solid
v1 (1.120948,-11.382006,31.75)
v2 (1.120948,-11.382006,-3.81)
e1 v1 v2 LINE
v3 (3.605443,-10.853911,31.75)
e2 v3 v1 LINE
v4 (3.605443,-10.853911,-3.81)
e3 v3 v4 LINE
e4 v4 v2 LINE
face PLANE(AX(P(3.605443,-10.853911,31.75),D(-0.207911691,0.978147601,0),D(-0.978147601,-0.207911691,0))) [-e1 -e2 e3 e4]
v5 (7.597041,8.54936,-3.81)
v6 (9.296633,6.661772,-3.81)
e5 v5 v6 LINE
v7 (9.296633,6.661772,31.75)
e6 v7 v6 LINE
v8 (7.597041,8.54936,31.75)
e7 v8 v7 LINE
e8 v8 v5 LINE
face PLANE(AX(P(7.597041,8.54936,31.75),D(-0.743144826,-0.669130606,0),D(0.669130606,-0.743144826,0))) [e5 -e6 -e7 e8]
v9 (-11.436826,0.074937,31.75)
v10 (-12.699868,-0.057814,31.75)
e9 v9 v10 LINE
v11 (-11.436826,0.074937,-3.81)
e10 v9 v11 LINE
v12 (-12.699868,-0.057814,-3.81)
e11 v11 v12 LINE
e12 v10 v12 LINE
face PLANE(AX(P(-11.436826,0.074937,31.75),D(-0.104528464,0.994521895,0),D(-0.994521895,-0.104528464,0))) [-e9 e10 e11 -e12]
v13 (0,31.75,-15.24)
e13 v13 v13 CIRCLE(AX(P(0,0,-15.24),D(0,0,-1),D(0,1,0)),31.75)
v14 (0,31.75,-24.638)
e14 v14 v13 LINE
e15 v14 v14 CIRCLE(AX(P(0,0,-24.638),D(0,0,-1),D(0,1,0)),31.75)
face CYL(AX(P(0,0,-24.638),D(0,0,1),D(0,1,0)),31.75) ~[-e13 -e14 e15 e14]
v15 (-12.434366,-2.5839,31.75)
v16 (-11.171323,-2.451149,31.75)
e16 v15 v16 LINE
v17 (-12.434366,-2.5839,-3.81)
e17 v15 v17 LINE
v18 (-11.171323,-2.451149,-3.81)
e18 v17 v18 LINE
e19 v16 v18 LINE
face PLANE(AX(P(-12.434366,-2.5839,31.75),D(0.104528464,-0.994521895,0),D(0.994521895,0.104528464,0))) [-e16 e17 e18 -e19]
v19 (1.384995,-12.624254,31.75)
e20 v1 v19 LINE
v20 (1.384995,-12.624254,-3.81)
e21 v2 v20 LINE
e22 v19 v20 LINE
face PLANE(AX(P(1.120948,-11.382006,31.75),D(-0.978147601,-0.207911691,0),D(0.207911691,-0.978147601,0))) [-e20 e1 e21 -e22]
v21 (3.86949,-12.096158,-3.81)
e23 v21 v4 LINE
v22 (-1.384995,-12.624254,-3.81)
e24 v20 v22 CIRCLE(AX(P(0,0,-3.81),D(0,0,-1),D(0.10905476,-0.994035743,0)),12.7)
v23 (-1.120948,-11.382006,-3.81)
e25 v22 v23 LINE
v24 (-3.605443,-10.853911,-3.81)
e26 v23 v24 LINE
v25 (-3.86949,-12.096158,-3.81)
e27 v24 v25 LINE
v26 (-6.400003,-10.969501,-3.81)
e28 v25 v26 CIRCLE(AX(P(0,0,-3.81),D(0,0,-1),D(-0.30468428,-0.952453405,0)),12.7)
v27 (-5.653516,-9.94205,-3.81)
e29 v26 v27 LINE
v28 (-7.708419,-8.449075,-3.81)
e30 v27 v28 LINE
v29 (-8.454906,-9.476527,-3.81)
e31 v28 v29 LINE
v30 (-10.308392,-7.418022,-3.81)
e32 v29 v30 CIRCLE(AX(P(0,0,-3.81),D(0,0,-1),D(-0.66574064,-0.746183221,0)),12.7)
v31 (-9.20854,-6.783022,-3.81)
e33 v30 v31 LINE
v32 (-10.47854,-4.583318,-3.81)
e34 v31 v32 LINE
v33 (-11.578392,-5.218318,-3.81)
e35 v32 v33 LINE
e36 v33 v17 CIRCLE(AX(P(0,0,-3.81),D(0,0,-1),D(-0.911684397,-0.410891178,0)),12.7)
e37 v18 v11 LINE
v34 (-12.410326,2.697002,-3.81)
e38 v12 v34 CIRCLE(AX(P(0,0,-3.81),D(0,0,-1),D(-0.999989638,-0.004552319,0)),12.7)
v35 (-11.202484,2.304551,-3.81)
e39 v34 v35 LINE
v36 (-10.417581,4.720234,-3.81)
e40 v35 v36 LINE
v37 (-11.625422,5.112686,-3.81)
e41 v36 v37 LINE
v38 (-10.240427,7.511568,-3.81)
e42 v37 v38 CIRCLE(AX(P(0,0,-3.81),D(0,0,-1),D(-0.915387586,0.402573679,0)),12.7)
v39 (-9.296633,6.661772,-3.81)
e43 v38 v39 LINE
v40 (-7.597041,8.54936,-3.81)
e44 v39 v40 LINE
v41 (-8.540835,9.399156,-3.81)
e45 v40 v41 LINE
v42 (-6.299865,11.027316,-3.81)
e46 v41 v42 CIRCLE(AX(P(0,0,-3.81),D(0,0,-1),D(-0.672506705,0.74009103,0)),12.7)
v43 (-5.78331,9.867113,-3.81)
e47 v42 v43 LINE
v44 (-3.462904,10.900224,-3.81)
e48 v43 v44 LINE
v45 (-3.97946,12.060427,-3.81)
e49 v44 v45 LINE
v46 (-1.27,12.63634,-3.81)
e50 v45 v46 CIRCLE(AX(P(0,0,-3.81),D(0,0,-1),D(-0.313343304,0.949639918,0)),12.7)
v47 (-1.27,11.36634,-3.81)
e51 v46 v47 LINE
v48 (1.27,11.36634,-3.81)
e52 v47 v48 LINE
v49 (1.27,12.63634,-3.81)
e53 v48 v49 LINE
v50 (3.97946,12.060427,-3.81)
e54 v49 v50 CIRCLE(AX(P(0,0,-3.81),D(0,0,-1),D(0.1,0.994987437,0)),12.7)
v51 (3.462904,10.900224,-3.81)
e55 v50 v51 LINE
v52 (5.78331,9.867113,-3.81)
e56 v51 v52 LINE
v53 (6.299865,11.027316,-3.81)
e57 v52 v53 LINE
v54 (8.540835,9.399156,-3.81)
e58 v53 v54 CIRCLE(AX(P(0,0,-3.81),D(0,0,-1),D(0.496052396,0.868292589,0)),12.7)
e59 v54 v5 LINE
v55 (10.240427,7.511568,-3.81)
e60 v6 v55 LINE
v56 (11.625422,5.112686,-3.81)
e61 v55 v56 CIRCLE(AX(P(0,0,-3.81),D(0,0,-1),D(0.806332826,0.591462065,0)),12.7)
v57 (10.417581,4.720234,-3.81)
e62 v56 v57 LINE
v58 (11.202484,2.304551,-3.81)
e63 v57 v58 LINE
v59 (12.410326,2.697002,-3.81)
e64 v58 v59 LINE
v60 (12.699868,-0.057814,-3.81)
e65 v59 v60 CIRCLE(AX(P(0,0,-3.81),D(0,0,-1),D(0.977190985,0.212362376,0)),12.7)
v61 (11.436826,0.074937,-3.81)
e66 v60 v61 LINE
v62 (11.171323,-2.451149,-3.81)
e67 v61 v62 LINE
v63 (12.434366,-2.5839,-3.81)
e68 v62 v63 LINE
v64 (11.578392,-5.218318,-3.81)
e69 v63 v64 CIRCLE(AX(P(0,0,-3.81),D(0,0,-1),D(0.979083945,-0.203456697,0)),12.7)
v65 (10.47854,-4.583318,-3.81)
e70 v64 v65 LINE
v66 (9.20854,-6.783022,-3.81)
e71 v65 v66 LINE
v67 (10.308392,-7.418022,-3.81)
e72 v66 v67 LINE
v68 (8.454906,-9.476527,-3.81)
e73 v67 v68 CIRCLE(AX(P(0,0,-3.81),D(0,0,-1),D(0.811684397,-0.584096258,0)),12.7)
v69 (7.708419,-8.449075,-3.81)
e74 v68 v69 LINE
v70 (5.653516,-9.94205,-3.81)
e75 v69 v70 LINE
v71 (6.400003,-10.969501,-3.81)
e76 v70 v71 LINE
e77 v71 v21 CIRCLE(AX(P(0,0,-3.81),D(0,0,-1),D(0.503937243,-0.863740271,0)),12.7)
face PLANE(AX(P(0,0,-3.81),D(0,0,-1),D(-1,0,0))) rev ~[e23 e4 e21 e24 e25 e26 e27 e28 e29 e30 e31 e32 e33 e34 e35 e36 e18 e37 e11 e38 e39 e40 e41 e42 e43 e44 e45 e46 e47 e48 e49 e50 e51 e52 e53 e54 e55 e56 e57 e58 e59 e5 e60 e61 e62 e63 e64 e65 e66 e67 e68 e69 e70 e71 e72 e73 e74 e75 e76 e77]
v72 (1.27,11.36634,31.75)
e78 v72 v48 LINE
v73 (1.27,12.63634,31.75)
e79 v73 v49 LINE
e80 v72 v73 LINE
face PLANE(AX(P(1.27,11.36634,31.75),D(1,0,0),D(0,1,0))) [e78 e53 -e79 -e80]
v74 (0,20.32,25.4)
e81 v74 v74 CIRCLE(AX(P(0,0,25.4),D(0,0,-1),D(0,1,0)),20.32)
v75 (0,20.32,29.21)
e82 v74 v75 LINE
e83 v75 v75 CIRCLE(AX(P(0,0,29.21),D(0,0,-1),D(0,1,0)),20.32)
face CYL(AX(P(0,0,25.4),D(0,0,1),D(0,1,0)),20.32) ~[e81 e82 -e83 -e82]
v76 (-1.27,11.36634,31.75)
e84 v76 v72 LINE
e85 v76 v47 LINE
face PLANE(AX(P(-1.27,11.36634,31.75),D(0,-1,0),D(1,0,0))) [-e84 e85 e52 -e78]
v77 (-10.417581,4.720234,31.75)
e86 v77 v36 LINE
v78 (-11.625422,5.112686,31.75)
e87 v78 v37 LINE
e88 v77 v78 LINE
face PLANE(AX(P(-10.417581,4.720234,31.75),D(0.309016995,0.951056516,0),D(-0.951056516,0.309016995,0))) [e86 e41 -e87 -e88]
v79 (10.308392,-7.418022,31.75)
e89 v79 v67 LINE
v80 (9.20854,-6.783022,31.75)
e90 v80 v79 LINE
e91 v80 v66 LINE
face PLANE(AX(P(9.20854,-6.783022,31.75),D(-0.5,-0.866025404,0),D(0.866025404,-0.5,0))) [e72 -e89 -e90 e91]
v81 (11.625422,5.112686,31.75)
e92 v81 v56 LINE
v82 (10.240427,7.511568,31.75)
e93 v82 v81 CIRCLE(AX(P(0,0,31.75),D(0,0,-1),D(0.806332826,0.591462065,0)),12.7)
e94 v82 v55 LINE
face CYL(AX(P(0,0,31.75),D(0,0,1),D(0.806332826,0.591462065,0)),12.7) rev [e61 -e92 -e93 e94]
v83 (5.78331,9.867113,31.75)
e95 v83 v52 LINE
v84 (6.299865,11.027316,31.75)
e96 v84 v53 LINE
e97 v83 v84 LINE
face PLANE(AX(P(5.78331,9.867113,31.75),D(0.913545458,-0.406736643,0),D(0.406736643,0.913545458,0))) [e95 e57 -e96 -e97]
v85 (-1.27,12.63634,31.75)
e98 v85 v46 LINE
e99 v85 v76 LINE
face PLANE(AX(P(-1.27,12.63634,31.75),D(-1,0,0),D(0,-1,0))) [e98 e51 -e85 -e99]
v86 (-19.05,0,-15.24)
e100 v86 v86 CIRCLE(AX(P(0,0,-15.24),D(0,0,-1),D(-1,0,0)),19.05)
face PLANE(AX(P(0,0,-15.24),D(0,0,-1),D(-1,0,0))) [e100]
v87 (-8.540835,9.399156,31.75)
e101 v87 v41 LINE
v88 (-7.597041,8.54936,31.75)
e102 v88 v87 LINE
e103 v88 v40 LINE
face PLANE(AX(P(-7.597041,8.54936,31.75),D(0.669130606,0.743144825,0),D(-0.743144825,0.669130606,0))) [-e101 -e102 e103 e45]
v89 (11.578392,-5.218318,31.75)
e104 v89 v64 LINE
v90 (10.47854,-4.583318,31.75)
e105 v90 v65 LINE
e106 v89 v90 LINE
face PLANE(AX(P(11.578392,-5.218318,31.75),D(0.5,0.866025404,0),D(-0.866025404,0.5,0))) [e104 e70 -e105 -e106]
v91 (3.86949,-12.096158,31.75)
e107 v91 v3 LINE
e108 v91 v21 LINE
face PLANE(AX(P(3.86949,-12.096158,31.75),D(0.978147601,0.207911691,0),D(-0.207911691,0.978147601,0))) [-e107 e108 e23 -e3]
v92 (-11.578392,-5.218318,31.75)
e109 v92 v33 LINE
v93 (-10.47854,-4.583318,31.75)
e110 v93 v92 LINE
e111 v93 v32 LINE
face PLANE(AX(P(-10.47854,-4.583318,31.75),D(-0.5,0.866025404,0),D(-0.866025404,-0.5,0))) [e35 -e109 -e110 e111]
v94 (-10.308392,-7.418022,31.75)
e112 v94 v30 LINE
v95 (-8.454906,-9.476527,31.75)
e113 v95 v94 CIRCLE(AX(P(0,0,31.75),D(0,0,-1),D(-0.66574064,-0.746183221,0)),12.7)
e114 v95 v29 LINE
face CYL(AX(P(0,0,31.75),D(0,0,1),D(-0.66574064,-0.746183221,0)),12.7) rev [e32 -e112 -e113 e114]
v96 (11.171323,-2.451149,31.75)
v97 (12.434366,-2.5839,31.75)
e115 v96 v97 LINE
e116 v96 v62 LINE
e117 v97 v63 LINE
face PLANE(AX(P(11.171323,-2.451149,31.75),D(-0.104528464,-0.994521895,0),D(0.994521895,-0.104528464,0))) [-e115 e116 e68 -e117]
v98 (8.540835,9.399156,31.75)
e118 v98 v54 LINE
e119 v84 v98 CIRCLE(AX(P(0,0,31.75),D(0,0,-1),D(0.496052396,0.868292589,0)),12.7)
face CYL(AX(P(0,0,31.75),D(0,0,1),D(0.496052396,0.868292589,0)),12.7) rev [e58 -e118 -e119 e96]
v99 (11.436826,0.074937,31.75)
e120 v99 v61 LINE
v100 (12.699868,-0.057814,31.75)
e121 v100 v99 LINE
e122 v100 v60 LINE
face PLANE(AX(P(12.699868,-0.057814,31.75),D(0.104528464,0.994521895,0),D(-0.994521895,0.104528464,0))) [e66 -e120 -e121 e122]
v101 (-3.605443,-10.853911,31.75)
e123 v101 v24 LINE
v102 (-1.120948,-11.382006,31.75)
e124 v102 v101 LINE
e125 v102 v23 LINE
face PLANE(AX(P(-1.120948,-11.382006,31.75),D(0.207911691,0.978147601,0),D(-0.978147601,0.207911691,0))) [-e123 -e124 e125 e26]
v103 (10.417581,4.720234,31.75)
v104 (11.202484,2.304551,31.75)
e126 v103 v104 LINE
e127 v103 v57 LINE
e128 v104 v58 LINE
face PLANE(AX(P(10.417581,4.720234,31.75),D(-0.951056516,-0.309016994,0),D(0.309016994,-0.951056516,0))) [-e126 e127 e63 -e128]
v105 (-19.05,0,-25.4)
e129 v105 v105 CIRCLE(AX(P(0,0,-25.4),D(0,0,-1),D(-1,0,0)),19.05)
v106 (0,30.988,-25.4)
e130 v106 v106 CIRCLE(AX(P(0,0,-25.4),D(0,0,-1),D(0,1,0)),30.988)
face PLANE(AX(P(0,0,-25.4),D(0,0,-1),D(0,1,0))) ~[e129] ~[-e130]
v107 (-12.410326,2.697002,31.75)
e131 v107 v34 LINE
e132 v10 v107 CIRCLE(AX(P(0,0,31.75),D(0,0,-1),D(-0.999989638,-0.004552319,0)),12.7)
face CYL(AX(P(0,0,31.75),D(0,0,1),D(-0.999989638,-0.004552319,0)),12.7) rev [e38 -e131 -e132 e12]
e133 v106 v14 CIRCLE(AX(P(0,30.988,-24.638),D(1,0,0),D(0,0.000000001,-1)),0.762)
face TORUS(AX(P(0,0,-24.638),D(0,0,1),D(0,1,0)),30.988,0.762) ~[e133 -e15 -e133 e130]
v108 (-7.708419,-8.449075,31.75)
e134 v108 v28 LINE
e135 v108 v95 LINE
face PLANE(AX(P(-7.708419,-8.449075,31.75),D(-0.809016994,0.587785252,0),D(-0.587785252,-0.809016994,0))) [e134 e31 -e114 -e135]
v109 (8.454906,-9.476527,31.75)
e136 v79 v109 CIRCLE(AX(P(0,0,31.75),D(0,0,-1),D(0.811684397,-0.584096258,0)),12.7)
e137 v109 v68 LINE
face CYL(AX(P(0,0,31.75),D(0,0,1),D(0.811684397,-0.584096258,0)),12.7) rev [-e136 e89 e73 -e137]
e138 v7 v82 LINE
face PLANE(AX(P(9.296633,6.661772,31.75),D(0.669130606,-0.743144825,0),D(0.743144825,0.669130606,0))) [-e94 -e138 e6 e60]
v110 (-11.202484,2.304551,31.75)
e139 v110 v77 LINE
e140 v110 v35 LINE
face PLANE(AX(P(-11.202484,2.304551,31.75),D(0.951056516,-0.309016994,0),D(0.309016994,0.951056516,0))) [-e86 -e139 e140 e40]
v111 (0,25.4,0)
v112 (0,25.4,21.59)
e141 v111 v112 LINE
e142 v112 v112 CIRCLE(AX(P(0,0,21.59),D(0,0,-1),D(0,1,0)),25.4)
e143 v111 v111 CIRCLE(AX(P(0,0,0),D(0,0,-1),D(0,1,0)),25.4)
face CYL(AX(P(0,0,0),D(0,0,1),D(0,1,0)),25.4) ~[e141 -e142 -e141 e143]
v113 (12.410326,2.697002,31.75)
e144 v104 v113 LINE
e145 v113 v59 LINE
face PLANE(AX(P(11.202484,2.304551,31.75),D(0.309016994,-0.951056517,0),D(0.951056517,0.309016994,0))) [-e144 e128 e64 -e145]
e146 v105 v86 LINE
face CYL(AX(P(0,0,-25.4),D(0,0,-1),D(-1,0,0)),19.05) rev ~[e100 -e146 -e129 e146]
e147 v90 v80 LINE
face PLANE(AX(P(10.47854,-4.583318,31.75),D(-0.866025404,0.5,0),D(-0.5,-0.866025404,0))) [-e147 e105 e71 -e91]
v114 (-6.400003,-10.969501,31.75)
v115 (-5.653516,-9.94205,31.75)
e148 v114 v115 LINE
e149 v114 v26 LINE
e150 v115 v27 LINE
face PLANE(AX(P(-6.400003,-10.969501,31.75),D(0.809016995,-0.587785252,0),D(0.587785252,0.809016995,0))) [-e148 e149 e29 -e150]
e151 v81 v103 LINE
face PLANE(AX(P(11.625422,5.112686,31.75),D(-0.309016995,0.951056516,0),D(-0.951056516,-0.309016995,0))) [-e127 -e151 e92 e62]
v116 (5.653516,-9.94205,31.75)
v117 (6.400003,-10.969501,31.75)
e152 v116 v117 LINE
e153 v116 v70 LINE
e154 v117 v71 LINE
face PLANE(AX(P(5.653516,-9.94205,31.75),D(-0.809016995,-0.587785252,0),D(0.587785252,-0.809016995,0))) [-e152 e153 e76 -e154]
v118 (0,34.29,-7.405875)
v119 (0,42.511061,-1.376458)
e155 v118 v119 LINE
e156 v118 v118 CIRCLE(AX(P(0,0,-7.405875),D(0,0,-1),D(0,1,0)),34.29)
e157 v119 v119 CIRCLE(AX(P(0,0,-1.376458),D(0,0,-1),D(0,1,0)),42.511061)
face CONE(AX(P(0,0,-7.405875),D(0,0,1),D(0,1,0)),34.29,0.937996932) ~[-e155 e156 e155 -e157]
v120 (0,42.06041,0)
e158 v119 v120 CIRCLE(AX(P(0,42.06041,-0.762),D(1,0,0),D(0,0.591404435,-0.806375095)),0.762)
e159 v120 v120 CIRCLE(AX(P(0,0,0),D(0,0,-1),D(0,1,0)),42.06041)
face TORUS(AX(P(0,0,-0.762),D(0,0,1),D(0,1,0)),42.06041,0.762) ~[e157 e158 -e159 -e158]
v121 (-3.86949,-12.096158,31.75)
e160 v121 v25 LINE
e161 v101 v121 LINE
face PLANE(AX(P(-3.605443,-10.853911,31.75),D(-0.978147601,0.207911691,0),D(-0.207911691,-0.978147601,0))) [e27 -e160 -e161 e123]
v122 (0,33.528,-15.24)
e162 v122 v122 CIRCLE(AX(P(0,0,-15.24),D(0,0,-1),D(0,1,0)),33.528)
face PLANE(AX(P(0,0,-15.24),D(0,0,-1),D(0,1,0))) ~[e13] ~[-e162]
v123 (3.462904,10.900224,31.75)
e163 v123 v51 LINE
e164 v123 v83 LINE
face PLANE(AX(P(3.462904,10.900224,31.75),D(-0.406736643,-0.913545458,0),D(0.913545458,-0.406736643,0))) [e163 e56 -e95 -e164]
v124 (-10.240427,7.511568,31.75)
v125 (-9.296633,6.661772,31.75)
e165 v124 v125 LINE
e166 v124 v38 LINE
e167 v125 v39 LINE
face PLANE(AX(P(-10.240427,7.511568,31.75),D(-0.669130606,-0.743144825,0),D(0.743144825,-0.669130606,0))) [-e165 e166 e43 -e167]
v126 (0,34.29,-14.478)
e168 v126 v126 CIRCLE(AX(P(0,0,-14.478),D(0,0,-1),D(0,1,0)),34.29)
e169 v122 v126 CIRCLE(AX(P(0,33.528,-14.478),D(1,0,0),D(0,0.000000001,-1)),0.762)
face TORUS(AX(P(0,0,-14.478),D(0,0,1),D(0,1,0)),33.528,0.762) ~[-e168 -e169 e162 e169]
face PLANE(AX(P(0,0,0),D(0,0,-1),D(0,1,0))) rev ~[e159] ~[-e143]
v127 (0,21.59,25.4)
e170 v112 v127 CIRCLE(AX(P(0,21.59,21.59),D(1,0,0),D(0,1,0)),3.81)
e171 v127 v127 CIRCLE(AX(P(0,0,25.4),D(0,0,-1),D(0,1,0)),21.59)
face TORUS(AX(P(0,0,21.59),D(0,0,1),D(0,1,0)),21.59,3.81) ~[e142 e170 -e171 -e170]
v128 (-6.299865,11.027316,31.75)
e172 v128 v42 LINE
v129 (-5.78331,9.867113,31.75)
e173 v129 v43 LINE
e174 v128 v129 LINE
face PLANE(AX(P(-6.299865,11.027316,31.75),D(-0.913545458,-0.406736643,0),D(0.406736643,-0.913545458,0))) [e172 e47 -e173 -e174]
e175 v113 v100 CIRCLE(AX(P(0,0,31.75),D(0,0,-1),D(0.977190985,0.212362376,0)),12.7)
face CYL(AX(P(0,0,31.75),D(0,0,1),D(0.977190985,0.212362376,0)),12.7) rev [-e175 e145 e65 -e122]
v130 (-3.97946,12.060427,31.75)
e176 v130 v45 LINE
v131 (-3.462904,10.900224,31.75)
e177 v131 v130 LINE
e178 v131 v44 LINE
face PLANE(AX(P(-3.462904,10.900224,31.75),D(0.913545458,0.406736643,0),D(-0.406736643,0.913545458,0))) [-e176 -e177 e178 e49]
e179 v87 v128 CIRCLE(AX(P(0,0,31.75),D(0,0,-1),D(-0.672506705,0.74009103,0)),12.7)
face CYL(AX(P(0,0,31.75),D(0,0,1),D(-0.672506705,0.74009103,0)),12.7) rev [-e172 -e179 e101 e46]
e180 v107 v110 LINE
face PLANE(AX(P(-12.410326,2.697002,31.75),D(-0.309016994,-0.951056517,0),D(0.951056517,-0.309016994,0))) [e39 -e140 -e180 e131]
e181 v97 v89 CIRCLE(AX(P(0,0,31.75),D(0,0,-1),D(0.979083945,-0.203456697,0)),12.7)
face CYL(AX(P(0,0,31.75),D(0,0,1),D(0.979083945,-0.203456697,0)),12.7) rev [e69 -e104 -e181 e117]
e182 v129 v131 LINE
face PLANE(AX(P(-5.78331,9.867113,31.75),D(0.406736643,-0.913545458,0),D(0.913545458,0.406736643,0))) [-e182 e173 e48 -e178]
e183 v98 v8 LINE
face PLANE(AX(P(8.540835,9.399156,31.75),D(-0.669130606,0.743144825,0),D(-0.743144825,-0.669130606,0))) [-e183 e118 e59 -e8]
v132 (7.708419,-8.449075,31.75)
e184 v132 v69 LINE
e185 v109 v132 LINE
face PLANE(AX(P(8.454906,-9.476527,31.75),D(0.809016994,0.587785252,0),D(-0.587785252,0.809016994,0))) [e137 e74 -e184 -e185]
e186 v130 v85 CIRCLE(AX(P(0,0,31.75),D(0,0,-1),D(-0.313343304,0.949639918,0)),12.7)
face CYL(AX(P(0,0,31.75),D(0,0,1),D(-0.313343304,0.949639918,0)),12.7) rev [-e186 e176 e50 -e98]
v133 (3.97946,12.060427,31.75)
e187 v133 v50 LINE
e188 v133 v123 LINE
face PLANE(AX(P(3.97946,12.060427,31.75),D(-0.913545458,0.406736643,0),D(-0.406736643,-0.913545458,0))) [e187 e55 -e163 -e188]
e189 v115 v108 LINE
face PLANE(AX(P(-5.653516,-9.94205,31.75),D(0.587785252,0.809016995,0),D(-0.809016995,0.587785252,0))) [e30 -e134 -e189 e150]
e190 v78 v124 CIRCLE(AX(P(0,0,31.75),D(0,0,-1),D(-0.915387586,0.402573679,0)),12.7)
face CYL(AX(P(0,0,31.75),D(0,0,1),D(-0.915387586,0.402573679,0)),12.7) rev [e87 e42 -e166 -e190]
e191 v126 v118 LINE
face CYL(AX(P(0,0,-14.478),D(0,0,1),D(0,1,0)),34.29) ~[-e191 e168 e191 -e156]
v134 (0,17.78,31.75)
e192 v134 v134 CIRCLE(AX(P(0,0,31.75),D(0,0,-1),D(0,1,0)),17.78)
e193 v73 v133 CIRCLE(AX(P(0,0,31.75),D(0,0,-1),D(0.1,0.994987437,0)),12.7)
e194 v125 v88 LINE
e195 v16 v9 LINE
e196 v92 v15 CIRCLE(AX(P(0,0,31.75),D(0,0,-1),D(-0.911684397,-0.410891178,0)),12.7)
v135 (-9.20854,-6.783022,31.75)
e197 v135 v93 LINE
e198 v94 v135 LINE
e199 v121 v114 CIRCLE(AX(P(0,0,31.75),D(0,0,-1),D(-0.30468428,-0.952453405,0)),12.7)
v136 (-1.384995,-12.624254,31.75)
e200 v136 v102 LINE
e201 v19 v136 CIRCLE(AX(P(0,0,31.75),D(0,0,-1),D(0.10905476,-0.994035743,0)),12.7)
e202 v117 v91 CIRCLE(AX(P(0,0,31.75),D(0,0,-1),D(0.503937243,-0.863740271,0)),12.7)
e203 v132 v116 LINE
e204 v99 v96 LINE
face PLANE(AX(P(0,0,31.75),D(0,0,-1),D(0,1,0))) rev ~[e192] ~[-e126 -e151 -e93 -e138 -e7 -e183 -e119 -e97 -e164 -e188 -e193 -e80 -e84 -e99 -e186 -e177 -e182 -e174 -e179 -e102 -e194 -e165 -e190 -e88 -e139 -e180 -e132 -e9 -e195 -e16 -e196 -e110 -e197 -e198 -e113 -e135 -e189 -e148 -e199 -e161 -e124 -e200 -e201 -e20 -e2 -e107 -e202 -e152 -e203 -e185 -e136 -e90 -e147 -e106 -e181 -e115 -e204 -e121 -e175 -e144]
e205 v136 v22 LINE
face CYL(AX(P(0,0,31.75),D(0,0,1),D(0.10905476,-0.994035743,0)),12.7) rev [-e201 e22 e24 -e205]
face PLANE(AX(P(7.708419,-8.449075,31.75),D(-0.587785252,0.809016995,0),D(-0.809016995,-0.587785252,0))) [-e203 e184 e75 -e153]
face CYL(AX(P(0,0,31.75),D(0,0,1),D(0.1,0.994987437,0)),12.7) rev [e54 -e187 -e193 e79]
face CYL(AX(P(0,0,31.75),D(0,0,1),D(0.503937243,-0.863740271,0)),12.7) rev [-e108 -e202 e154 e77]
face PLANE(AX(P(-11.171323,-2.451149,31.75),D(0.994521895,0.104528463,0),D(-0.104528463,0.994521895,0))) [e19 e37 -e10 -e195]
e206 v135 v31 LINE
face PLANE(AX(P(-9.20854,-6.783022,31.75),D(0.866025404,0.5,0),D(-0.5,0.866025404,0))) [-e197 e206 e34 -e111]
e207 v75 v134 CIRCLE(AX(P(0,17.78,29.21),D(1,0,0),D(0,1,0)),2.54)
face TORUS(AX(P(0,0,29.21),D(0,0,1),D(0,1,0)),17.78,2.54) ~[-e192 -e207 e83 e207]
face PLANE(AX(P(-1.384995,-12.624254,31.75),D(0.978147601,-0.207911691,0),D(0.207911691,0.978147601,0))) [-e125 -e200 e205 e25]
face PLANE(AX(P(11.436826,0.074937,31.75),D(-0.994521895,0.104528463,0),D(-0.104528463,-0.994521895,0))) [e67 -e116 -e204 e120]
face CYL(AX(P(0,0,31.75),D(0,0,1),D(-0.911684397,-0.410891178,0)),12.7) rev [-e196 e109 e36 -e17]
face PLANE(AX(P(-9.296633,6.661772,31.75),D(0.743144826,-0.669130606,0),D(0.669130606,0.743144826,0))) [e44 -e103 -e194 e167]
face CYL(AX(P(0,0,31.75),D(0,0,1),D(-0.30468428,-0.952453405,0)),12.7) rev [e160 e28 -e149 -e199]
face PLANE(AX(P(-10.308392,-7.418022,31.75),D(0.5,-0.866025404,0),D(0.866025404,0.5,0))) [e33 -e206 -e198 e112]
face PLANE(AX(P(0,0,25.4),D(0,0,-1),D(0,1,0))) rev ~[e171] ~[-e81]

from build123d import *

# Parameters (mm, degrees)
SKETCH2_R          = 19.05
CUT_EXTRUDE1_DEPTH = 10.16
CUT_EXTRUDE4_DEPTH = 35.56


with BuildPart() as part:
    # Sketch1 → Revolve1 (revolve)
    with BuildSketch(Plane(origin=(0, 0, 0), x_dir=(0, 0, -1), z_dir=(1, 0, 0))):
        with BuildLine():
            Line((25.4, 0), (25.4, 30.988))
            ThreePointArc((25.4, 30.988), (25.176815367, 31.526815367), (24.638, 31.75))
            Line((24.638, 31.75), (15.24, 31.75))
            Line((15.24, 31.75), (15.24, 33.528))
            ThreePointArc((15.24, 33.528), (15.016815367, 34.066815367), (14.478, 34.29))
            Line((14.478, 34.29), (7.405874804, 34.29))
            Line((7.405874804, 34.29), (1.376457823, 42.511060606))
            ThreePointArc((1.376457823, 42.511060606), (0.52490599, 42.784586117), (0, 42.060410427))
            Line((0, 42.060410427), (0, 25.4))
            Line((0, 25.4), (-21.59, 25.4))
            ThreePointArc((-21.59, 25.4), (-24.284076836, 24.284076836), (-25.4, 21.59))
            Line((-25.4, 21.59), (-25.4, 20.32))
            Line((-25.4, 20.32), (-29.21, 20.32))
            ThreePointArc((-29.21, 20.32), (-31.006051224, 19.576051224), (-31.75, 17.78))
            Line((-31.75, 17.78), (-31.75, 0))
            Line((-31.75, 0), (25.4, 0))
        make_face()
    revolve(axis=Axis((0, 0, 0), (0, 0, -1)))

    # Sketch2 → Cut-Extrude1 (cut)
    with BuildSketch(Plane(origin=(0, 0, -25.4), x_dir=(-1, 0, 0), z_dir=(0, 0, -1))):
        Circle(SKETCH2_R)
    extrude(amount=-CUT_EXTRUDE1_DEPTH, mode=Mode.SUBTRACT)

    # Sketch3 → Cut-Extrude4 (cut)
    with BuildSketch(Plane.XY.offset(31.75)):
        with BuildLine():
            Line((-1.27, 11.366340451), (1.27, 11.366340451))
            Line((1.27, 11.366340451), (1.27, 12.636340451))
            ThreePointArc((1.27, 12.636340451), (2.640478473, 12.422474529), (3.979459965, 12.060426957))
            Line((3.979459965, 12.060426957), (3.462904428, 10.900224226))
            Line((3.462904428, 10.900224226), (5.78330989, 9.867113153))
            Line((5.78330989, 9.867113153), (6.299865427, 11.027315884))
            ThreePointArc((6.299865427, 11.027315884), (7.464872704, 10.274515829), (8.540835149, 9.399156077))
            Line((8.540835149, 9.399156077), (7.597041221, 8.549360207))
            Line((7.597041221, 8.549360207), (9.296632961, 6.66177235))
            Line((9.296632961, 6.66177235), (10.240426889, 7.51156822))
            ThreePointArc((10.240426889, 7.51156822), (10.998522628, 6.35), (11.625422345, 5.112685722))
            Line((11.625422345, 5.112685722), (10.41758057, 4.720234139))
            Line((10.41758057, 4.720234139), (11.202483735, 2.304550588))
            Line((11.202483735, 2.304550588), (12.410325511, 2.69700217))
            ThreePointArc((12.410325511, 2.69700217), (12.630428071, 1.327511483), (12.699868404, -0.057814442))
            Line((12.699868404, -0.057814442), (11.436825597, 0.074936707))
            Line((11.436825597, 0.074936707), (11.171323301, -2.451148907))
            Line((11.171323301, -2.451148907), (12.434366108, -2.583900056))
            ThreePointArc((12.434366108, -2.583900056), (12.078417757, -3.924515829), (11.578391842, -5.218317963))
            Line((11.578391842, -5.218317963), (10.478539579, -4.583317963))
            Line((10.478539579, -4.583317963), (9.208539579, -6.783022488))
            Line((9.208539579, -6.783022488), (10.308391842, -7.418022488))
            ThreePointArc((10.308391842, -7.418022488), (9.437939284, -8.497958701), (8.454906143, -9.476526901))
            Line((8.454906143, -9.476526901), (7.708418873, -8.449075319))
            Line((7.708418873, -8.449075319), (5.653515707, -9.942049859))
            Line((5.653515707, -9.942049859), (6.400002977, -10.969501442))
            ThreePointArc((6.400002977, -10.969501442), (5.165555367, -11.602027312), (3.869490362, -12.096158247))
            Line((3.869490362, -12.096158247), (3.605442515, -10.853910794))
            Line((3.605442515, -10.853910794), (1.120947609, -11.382006489))
            Line((1.120947609, -11.382006489), (1.384995456, -12.624253942))
            ThreePointArc((1.384995456, -12.624253942), (0, -12.7), (-1.384995456, -12.624253942))
            Line((-1.384995456, -12.624253942), (-1.120947609, -11.382006489))
            Line((-1.120947609, -11.382006489), (-3.605442515, -10.853910794))
            Line((-3.605442515, -10.853910794), (-3.869490362, -12.096158247))
            ThreePointArc((-3.869490362, -12.096158247), (-5.165555367, -11.602027312), (-6.400002977, -10.969501442))
            Line((-6.400002977, -10.969501442), (-5.653515707, -9.942049859))
            Line((-5.653515707, -9.942049859), (-7.708418873, -8.449075319))
            Line((-7.708418873, -8.449075319), (-8.454906143, -9.476526901))
            ThreePointArc((-8.454906143, -9.476526901), (-9.437939284, -8.497958701), (-10.308391842, -7.418022488))
            Line((-10.308391842, -7.418022488), (-9.208539579, -6.783022488))
            Line((-9.208539579, -6.783022488), (-10.478539579, -4.583317963))
            Line((-10.478539579, -4.583317963), (-11.578391842, -5.218317963))
            ThreePointArc((-11.578391842, -5.218317963), (-12.078417757, -3.924515829), (-12.434366108, -2.583900056))
            Line((-12.434366108, -2.583900056), (-11.171323301, -2.451148907))
            Line((-11.171323301, -2.451148907), (-11.436825597, 0.074936707))
            Line((-11.436825597, 0.074936707), (-12.699868404, -0.057814442))
            ThreePointArc((-12.699868404, -0.057814442), (-12.630428071, 1.327511483), (-12.410325511, 2.69700217))
            Line((-12.410325511, 2.69700217), (-11.202483735, 2.304550588))
            Line((-11.202483735, 2.304550588), (-10.41758057, 4.720234139))
            Line((-10.41758057, 4.720234139), (-11.625422345, 5.112685722))
            ThreePointArc((-11.625422345, 5.112685722), (-10.998522628, 6.35), (-10.240426889, 7.51156822))
            Line((-10.240426889, 7.51156822), (-9.296632961, 6.66177235))
            Line((-9.296632961, 6.66177235), (-7.597041221, 8.549360207))
            Line((-7.597041221, 8.549360207), (-8.540835149, 9.399156077))
            ThreePointArc((-8.540835149, 9.399156077), (-7.464872704, 10.274515829), (-6.299865427, 11.027315884))
            Line((-6.299865427, 11.027315884), (-5.78330989, 9.867113153))
            Line((-5.78330989, 9.867113153), (-3.462904428, 10.900224226))
            Line((-3.462904428, 10.900224226), (-3.979459965, 12.060426957))
            ThreePointArc((-3.979459965, 12.060426957), (-2.640478473, 12.422474529), (-1.27, 12.636340451))
            Line((-1.27, 12.636340451), (-1.27, 11.366340451))
        make_face()
    extrude(amount=-CUT_EXTRUDE4_DEPTH, mode=Mode.SUBTRACT)


solid = part.part
